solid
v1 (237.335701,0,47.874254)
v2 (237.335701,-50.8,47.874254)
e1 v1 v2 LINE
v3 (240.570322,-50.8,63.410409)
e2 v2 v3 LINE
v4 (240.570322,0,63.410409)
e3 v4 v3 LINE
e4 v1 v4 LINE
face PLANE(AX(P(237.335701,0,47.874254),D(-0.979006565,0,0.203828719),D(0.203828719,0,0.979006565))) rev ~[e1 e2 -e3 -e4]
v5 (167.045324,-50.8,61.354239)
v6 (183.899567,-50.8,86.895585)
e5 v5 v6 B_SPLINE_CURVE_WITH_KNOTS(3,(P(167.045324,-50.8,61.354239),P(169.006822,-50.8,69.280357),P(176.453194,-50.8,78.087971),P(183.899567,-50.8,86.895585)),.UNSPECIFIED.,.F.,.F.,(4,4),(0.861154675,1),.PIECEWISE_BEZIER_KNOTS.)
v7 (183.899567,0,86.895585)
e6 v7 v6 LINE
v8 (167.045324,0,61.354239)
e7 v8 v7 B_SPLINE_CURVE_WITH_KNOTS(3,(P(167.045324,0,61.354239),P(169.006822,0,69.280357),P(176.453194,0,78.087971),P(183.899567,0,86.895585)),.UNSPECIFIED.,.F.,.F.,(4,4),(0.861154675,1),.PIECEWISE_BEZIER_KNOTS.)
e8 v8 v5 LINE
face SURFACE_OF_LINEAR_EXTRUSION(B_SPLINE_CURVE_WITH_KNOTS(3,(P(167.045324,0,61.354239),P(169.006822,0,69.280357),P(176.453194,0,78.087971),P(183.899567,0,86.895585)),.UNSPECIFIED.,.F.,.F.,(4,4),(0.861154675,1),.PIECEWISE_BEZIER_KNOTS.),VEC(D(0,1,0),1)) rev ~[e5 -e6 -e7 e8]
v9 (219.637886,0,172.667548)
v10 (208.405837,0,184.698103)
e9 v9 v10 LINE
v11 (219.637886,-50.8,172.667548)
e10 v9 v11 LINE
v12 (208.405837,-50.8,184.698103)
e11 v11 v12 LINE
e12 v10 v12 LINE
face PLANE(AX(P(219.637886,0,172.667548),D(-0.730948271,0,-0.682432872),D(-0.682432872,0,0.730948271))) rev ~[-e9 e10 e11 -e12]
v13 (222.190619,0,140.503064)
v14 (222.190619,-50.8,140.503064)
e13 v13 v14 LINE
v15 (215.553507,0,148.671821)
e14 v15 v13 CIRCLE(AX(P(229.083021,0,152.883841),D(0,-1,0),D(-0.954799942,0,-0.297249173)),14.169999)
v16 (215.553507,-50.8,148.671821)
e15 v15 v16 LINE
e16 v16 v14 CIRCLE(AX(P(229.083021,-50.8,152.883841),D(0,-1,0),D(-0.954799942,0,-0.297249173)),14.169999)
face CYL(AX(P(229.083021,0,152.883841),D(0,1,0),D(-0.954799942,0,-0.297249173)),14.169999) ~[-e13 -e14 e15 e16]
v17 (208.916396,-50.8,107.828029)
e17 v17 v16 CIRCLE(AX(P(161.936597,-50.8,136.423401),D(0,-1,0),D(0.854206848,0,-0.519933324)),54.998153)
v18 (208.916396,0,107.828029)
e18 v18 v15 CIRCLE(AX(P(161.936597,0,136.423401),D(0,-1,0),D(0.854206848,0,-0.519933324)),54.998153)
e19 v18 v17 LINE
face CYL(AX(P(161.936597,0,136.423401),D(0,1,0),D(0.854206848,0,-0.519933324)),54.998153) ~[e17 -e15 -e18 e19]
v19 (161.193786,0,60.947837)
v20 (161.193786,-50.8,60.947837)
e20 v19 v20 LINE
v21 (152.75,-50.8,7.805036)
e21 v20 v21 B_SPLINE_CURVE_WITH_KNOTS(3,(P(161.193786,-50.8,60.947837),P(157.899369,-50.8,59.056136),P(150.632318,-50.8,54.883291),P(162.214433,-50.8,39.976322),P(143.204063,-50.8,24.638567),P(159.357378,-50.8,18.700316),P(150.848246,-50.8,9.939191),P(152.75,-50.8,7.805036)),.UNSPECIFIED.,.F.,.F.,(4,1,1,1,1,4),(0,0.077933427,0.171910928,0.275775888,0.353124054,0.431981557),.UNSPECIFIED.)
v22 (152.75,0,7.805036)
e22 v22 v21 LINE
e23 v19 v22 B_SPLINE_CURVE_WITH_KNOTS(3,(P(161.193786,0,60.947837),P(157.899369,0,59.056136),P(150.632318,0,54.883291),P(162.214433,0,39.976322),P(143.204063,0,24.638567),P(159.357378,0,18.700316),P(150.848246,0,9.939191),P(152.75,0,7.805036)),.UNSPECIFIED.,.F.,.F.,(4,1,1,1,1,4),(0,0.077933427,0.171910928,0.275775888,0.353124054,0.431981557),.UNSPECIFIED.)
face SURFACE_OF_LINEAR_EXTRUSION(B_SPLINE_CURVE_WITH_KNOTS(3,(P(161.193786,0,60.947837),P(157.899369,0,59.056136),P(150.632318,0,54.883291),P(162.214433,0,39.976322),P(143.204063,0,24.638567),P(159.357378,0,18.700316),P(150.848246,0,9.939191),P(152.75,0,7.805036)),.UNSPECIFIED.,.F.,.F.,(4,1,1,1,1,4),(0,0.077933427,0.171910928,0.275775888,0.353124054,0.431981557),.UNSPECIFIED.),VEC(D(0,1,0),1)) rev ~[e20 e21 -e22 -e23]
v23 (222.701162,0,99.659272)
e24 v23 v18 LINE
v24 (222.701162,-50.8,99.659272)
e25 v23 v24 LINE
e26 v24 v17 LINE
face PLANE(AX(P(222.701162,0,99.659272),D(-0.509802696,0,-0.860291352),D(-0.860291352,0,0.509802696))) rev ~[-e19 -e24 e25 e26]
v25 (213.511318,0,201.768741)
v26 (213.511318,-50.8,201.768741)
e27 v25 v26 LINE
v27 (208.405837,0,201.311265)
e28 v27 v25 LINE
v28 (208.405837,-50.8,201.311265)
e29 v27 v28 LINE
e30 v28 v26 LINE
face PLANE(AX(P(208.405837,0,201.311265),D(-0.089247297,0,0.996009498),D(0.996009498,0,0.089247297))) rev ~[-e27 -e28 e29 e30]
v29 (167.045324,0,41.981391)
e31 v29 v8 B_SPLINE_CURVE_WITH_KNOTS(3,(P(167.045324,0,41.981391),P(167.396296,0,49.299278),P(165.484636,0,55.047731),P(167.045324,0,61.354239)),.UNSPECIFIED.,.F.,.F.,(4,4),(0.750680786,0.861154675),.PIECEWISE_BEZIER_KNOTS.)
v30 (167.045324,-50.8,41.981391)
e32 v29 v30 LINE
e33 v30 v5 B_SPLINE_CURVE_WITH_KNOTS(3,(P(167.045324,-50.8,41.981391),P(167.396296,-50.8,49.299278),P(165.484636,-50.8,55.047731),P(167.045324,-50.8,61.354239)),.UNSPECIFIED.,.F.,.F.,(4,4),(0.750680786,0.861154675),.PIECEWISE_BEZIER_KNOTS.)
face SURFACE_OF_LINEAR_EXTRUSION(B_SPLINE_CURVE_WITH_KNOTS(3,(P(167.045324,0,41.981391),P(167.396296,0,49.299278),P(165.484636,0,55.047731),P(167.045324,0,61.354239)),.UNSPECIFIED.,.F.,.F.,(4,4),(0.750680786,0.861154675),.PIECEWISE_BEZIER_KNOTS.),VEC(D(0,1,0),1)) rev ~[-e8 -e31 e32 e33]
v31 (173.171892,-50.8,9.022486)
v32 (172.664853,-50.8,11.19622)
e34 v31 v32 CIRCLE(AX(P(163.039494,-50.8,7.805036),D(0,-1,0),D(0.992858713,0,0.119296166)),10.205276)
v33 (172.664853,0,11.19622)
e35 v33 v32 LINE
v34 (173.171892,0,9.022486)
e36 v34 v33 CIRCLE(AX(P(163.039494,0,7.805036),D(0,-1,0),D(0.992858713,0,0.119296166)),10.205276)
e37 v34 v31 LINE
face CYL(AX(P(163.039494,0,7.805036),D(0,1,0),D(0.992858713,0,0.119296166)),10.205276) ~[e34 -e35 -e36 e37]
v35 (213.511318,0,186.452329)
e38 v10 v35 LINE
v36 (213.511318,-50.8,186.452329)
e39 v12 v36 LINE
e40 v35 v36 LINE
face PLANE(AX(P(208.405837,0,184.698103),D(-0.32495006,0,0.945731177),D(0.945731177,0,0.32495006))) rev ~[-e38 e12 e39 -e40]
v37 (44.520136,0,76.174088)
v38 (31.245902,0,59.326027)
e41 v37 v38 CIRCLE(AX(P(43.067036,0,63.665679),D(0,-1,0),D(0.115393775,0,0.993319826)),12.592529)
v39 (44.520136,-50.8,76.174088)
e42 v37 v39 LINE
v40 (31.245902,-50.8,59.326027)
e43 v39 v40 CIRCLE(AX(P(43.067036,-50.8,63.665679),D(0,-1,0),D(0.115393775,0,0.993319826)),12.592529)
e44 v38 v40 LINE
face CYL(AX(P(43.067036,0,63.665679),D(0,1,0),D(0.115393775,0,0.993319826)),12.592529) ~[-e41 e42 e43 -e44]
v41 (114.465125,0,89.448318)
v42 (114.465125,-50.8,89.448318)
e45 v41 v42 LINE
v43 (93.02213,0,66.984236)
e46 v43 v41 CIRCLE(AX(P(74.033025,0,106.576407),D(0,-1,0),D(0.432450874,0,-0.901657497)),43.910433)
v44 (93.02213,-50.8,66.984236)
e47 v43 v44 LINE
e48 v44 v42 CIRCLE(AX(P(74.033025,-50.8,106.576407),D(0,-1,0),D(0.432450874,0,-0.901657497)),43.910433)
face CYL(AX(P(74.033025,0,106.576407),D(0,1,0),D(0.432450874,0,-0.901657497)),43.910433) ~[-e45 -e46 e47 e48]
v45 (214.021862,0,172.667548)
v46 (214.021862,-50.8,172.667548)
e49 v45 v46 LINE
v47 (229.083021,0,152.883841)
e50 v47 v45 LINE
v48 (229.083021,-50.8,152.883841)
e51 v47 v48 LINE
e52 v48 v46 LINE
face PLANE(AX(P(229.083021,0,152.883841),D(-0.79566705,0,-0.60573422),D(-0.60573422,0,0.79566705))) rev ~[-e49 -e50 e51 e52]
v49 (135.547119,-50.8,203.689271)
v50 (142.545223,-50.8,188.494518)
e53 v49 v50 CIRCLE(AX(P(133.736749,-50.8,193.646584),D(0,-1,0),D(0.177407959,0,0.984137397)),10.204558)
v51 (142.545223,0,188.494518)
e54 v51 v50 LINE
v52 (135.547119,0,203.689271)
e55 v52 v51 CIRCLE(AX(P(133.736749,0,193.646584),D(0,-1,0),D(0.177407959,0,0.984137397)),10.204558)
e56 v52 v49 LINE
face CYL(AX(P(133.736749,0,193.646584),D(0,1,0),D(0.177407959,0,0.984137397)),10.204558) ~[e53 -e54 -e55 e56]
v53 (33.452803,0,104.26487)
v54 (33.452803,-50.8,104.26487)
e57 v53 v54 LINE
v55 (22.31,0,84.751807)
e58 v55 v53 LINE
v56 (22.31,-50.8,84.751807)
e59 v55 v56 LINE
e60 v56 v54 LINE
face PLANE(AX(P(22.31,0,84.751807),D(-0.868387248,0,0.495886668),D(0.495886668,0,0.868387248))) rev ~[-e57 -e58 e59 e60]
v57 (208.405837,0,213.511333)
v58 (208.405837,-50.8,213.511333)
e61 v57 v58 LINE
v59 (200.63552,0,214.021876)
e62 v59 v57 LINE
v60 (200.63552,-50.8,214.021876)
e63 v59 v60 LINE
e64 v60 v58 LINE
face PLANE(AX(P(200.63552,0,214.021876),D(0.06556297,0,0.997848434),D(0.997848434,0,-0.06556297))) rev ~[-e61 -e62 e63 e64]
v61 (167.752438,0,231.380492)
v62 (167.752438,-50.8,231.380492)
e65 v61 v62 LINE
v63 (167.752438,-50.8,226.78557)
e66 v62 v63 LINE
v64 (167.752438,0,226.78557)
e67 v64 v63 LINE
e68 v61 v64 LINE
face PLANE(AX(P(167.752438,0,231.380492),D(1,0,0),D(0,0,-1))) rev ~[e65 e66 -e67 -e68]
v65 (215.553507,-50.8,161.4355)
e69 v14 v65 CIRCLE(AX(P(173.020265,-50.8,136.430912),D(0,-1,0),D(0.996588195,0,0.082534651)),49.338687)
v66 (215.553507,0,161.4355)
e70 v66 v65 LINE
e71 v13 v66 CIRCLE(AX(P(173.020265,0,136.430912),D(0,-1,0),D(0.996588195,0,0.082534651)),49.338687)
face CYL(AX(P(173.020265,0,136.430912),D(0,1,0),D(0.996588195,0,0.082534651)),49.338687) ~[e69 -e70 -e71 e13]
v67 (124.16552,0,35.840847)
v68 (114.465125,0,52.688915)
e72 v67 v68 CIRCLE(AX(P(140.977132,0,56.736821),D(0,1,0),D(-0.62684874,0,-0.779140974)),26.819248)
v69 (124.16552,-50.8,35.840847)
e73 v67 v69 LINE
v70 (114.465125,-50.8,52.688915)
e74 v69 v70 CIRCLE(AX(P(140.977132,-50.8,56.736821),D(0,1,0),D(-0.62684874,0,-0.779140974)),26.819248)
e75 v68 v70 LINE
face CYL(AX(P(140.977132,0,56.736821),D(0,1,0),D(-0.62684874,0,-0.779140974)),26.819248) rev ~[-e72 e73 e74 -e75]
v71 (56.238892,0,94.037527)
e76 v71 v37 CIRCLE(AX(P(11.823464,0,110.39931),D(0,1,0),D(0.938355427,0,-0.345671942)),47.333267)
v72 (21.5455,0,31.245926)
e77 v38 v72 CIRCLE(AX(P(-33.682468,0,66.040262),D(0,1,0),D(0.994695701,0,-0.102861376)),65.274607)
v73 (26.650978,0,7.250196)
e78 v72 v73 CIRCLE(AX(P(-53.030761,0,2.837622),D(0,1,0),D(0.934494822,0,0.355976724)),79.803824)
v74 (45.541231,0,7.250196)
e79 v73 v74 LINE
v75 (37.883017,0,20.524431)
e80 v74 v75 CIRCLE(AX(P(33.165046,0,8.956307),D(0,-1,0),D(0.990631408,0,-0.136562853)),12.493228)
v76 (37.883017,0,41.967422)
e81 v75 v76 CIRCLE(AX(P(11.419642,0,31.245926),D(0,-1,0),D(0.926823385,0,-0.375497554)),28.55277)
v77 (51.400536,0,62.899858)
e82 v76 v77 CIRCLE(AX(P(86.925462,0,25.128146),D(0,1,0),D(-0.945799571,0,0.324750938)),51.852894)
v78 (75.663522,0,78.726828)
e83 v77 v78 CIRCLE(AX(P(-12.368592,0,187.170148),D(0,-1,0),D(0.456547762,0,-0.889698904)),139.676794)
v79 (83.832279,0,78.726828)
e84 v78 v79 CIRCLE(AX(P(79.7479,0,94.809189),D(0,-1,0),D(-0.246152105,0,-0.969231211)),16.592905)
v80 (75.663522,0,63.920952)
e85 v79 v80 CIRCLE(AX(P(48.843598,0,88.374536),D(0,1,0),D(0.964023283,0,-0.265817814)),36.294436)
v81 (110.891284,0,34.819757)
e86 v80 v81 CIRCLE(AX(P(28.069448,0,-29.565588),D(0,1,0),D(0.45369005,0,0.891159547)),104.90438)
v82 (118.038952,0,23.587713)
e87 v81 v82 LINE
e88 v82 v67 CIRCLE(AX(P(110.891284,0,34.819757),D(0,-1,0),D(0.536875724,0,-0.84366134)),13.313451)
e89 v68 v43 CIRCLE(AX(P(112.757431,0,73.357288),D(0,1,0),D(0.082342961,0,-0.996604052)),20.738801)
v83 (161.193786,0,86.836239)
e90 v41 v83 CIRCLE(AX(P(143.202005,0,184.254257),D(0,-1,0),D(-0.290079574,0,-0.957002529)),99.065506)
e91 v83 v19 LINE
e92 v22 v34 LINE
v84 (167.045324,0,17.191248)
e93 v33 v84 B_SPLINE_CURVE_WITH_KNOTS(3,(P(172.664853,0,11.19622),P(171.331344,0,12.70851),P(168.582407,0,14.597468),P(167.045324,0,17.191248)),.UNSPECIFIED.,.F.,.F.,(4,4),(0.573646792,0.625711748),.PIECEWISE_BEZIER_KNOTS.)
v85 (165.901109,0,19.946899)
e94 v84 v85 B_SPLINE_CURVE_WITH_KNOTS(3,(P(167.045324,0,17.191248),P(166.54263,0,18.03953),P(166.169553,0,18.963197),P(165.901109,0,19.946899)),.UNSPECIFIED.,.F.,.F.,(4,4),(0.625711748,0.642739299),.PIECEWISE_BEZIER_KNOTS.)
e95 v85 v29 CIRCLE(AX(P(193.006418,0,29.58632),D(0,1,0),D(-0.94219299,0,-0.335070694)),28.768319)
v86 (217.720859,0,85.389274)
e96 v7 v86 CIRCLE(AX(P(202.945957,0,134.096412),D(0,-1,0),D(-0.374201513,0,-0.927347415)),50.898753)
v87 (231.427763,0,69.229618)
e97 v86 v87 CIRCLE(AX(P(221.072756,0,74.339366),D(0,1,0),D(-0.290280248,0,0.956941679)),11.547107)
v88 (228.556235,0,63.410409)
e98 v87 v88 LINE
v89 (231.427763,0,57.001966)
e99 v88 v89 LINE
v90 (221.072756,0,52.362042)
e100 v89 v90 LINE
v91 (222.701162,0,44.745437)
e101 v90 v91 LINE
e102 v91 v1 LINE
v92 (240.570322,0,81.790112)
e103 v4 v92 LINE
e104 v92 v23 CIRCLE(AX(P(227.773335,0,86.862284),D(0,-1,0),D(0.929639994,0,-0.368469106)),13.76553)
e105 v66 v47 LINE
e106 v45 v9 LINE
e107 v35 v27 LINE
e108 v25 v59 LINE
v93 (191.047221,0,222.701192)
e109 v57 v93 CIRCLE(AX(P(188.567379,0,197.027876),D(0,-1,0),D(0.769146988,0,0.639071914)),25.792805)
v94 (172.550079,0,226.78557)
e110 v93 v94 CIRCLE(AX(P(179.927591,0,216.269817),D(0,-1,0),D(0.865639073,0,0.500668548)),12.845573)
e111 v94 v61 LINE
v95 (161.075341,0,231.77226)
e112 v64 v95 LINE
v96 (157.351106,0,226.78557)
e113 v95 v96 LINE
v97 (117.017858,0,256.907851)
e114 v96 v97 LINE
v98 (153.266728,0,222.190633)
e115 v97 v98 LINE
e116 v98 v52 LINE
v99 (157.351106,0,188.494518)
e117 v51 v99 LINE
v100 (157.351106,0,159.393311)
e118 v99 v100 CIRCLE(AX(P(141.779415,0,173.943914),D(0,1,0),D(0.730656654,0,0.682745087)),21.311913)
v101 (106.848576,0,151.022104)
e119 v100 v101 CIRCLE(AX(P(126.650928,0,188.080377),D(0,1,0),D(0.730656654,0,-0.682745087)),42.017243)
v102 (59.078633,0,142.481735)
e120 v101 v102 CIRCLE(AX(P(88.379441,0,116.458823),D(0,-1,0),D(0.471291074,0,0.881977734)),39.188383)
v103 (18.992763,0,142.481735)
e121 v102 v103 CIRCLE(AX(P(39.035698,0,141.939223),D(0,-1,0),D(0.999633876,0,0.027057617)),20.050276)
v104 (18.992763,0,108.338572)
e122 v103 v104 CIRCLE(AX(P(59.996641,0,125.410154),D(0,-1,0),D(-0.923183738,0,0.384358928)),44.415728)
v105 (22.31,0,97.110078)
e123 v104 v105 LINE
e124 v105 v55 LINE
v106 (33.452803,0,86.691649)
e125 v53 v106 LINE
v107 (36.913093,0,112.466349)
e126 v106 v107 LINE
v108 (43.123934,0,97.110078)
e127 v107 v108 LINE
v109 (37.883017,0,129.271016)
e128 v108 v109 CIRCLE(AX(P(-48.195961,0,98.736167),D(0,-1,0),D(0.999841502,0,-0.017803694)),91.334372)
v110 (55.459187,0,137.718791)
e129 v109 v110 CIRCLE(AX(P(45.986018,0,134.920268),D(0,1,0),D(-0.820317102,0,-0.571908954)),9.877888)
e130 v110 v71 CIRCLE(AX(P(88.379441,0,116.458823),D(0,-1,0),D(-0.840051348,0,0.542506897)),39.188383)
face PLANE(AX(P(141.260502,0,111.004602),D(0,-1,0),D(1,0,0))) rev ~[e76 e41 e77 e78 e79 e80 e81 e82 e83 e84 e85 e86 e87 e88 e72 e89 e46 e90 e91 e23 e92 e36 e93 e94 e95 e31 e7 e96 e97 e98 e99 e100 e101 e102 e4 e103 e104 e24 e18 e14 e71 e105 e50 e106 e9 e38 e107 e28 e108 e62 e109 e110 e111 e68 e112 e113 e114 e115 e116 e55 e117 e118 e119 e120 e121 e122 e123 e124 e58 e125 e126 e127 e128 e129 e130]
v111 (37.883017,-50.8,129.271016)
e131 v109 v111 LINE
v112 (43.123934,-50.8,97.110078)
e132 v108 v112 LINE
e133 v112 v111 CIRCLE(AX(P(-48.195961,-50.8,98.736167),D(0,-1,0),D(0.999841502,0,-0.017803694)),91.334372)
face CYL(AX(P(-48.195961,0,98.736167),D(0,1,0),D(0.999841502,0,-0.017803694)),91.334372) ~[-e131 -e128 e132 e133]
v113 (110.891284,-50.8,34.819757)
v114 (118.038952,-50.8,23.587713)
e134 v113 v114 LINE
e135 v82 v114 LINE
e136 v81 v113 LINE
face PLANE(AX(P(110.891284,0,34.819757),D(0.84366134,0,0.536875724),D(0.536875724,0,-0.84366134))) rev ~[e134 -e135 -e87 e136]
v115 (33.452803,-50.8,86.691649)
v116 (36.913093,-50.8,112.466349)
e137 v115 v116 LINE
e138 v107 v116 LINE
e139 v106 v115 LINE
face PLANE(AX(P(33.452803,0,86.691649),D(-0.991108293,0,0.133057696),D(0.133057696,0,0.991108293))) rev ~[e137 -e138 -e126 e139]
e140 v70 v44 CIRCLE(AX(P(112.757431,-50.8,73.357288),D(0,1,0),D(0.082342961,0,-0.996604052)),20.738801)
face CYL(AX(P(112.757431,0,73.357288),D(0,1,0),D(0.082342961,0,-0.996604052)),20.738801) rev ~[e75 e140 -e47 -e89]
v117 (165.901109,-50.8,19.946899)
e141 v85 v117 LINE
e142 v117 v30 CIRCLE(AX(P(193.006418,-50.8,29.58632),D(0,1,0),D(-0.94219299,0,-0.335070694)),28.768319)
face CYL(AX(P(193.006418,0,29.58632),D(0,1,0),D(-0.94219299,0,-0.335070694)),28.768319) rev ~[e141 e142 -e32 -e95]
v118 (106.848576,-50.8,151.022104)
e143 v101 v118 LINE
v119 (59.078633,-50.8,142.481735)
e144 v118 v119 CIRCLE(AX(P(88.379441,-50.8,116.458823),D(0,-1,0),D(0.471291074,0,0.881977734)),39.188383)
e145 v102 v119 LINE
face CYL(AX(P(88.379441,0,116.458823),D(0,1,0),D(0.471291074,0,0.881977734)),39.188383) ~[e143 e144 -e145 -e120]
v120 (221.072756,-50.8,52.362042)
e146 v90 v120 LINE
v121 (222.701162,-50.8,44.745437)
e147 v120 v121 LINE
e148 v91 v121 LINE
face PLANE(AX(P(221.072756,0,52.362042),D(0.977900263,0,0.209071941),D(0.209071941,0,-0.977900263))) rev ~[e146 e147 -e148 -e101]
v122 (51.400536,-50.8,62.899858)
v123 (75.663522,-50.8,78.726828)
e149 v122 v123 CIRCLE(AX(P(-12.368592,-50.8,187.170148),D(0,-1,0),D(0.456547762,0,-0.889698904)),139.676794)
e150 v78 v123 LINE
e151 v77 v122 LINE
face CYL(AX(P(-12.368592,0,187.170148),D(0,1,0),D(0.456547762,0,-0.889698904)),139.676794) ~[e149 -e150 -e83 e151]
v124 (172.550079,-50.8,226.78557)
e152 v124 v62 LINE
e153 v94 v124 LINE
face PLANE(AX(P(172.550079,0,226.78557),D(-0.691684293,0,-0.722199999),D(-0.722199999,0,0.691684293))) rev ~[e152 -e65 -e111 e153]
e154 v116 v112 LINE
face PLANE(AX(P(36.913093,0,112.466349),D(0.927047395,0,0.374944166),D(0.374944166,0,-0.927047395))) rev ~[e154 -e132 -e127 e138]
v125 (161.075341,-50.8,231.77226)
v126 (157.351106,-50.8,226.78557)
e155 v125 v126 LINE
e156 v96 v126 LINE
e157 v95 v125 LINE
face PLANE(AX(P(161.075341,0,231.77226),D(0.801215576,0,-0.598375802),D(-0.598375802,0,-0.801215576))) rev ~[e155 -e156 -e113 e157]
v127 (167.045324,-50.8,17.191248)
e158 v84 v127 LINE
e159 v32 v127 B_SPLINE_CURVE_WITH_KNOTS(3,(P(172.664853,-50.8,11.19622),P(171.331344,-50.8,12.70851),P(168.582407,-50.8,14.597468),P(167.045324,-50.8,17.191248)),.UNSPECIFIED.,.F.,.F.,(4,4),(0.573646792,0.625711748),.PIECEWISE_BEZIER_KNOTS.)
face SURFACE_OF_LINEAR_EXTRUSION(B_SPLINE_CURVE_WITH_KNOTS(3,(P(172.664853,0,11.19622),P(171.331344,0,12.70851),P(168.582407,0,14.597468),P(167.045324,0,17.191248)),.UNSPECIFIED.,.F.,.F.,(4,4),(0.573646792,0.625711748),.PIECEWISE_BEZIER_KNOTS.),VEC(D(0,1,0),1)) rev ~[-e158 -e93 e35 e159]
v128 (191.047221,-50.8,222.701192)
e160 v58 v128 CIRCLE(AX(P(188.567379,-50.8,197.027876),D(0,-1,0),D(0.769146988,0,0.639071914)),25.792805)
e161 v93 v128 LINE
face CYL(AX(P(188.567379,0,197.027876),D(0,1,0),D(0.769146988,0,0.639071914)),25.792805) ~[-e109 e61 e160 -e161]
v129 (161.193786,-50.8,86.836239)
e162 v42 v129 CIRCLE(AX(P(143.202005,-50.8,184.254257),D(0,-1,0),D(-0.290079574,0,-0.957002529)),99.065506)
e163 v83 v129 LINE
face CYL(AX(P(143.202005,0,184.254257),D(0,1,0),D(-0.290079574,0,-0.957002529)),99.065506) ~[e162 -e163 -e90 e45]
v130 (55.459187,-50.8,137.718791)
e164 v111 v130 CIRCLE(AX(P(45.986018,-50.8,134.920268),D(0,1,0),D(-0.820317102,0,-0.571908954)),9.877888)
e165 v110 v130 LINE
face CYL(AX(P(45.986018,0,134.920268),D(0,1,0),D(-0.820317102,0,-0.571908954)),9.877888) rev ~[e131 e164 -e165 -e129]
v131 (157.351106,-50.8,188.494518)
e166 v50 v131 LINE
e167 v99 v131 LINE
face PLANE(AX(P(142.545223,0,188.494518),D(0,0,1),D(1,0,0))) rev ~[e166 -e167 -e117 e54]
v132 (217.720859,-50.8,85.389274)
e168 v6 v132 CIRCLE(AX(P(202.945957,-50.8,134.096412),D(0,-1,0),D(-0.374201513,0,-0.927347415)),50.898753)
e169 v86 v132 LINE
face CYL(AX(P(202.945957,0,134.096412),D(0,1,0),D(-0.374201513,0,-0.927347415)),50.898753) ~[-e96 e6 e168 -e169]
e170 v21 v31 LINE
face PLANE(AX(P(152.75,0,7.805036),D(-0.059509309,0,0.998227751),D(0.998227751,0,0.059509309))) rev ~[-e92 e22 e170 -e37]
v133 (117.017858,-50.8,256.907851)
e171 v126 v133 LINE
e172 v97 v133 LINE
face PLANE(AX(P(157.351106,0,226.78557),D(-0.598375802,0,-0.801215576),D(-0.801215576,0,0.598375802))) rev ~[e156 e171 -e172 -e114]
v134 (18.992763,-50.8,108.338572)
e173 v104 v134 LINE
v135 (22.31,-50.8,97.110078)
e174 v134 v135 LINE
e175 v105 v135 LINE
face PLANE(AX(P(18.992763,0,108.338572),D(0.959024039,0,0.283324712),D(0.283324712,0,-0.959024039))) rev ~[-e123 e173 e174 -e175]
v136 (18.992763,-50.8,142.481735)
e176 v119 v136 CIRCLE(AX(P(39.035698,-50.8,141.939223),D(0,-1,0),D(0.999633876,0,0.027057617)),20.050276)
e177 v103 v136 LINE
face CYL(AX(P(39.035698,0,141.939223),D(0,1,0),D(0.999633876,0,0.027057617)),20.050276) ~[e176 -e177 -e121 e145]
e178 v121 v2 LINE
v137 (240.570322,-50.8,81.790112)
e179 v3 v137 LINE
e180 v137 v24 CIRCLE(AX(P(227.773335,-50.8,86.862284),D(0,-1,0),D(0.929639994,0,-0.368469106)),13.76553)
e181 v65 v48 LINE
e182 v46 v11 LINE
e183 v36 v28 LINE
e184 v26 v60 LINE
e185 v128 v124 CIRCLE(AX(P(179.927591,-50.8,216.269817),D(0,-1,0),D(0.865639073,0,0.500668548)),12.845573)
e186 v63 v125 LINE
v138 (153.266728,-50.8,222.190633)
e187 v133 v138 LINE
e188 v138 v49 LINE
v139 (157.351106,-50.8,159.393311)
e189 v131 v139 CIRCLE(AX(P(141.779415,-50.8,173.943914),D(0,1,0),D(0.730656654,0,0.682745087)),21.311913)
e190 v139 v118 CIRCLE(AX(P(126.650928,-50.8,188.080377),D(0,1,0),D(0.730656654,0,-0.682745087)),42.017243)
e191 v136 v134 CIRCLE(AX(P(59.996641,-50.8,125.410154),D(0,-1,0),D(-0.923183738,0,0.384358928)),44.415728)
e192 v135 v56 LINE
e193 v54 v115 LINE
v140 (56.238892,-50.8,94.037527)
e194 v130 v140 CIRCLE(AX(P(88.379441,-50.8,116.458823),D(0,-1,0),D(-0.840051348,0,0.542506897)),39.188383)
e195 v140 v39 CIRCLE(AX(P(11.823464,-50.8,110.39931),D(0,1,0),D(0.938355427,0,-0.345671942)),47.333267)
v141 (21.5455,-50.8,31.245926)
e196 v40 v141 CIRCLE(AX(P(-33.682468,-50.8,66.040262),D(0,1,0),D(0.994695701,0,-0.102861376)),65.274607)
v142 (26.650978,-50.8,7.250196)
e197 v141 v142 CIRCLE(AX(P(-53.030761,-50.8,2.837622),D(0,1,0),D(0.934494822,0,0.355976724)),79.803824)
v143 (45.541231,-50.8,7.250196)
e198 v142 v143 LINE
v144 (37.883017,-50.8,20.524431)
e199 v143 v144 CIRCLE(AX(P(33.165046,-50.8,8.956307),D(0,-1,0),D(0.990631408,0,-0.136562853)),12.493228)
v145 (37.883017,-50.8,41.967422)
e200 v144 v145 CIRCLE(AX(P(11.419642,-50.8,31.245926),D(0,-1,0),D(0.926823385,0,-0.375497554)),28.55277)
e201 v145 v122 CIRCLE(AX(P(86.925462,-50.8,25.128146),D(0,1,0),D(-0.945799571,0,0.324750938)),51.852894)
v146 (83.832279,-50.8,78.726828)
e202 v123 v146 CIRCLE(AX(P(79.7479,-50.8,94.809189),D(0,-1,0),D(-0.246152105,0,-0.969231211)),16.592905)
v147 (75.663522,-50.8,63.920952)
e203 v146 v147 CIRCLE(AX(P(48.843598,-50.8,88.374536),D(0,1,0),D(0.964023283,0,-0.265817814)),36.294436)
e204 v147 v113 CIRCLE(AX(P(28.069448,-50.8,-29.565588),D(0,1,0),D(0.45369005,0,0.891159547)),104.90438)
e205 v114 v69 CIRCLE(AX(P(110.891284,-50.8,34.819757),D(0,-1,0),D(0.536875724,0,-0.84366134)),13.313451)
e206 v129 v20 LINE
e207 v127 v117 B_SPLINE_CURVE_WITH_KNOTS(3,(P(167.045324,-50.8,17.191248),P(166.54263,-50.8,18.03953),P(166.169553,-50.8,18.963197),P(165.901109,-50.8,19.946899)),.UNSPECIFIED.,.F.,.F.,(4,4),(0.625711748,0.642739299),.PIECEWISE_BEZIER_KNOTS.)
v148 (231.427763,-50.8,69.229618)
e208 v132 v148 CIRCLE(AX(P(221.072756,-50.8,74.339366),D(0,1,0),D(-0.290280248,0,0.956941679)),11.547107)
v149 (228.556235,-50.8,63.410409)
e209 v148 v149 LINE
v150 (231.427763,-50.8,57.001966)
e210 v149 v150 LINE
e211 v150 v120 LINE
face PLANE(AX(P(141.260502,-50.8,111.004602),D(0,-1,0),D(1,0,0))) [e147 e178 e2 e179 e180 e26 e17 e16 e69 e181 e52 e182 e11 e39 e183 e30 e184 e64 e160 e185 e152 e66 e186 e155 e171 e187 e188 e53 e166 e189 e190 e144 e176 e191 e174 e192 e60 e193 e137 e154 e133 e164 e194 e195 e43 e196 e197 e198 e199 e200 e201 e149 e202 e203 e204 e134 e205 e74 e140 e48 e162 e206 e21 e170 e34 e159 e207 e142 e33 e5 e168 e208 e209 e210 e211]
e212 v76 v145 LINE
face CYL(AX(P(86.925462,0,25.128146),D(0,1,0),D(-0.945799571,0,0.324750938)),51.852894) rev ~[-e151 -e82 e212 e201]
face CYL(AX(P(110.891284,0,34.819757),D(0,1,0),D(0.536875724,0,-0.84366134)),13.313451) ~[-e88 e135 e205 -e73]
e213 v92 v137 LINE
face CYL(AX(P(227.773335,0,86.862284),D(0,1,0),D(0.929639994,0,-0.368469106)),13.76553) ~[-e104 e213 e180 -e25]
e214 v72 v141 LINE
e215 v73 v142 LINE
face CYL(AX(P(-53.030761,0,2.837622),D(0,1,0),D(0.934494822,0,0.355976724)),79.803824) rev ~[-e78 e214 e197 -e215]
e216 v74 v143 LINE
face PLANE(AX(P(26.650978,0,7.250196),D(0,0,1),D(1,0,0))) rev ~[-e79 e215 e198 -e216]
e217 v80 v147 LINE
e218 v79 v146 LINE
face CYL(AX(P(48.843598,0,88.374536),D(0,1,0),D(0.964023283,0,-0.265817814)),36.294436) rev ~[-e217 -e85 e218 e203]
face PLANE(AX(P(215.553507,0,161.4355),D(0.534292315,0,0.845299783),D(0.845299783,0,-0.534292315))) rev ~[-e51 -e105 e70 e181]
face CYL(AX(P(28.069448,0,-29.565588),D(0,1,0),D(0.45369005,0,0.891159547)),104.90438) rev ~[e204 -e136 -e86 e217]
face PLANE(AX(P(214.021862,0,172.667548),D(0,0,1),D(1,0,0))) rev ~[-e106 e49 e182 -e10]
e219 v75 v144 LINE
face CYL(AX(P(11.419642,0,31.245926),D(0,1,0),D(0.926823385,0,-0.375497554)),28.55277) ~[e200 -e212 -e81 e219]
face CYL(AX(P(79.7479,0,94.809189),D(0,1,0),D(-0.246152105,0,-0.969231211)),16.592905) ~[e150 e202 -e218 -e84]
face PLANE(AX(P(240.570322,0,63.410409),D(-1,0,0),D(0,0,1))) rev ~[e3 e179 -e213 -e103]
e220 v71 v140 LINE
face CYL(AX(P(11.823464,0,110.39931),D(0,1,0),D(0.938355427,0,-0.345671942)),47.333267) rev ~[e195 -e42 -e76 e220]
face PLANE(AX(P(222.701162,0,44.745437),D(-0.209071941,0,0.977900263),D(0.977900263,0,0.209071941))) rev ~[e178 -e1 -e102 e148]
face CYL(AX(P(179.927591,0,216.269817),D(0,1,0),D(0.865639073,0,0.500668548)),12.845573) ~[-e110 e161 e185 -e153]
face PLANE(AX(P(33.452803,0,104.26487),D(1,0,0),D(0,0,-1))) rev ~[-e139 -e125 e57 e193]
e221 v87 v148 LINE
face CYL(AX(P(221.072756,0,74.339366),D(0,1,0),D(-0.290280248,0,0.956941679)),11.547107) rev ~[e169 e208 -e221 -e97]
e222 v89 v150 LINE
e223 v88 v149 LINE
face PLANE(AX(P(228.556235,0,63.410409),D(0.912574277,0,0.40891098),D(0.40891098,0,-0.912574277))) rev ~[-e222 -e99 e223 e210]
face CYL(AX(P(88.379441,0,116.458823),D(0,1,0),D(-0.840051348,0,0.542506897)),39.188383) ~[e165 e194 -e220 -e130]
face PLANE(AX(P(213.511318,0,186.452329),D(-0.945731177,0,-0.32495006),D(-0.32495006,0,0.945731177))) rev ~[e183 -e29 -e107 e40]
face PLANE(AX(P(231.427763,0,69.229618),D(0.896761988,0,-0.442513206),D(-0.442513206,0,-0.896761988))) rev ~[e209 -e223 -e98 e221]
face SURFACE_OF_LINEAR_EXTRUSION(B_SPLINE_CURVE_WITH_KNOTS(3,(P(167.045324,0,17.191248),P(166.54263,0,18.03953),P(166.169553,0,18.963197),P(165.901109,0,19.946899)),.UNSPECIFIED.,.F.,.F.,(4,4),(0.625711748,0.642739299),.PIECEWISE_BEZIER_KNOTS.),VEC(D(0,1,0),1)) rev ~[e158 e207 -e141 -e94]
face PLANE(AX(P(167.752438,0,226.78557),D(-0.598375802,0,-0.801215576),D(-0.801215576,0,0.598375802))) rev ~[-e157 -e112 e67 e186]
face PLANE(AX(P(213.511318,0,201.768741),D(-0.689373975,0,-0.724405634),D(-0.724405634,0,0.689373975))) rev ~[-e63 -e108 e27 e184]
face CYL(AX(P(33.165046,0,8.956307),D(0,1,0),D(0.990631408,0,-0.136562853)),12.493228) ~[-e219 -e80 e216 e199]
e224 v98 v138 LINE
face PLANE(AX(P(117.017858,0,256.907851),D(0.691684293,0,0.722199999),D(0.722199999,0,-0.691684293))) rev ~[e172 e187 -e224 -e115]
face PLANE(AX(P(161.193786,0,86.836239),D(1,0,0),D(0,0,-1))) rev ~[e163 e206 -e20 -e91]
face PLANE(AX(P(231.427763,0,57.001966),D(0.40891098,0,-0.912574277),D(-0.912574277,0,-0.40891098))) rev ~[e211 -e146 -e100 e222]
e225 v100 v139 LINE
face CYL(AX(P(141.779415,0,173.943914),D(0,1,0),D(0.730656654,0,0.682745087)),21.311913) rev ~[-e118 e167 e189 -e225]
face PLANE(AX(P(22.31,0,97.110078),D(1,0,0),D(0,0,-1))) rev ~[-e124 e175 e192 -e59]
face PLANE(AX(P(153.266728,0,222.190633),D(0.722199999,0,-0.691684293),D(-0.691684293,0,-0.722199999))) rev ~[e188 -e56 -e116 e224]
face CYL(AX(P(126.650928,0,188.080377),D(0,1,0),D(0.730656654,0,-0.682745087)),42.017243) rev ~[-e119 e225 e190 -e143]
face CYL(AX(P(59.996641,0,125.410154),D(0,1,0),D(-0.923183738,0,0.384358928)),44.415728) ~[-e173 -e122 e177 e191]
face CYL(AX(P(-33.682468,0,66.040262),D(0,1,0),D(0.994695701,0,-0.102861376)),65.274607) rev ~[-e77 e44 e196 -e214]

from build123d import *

# Parameters (mm, degrees)
F1_DEPTH = 50.8


with BuildPart() as f1:
    # F0 (on Front) → F1 (new body)
    with BuildSketch(Plane.XZ):
        with BuildLine():
            Line((157.3511064053, 226.7855703831), (117.0178577304, 256.9078505039))
            Line((117.0178577304, 256.9078505039), (153.2667279243, 222.1906334162))
            Line((153.2667279243, 222.1906334162), (135.5471188815, 203.6892712114))
            ThreePointArc((135.5471188815, 203.6892712114), (124.4679795229, 189.3777542773), (142.5452232361, 188.4945183992))
            Line((142.5452232361, 188.4945183992), (157.3511064053, 188.4945183992))
            ThreePointArc((157.3511064053, 188.4945183992), (163.0913283676, 173.9439144731), (157.3511064053, 159.3933105469))
            ThreePointArc((157.3511064053, 159.3933105469), (133.5218764448, 146.628732852), (106.8485764131, 151.0221039559))
            ThreePointArc((106.8485764131, 151.0221039559), (81.4826477265, 155.0355463169), (59.0786326768, 142.4817354462))
            ThreePointArc((59.0786326768, 142.4817354462), (57.1778936646, 140.1694279188), (55.4591871163, 137.7187907169))
            ThreePointArc((55.4591871163, 137.7187907169), (49.1972996165, 115.7594263547), (56.2388920861, 94.0375274104))
            ThreePointArc((56.2388920861, 94.0375274104), (51.4005357949, 84.435997918), (44.5201359689, 76.1740878224))
            ThreePointArc((44.5201359689, 76.1740878224), (33.1757105593, 71.4588467738), (31.2459021807, 59.3260265887))
            ThreePointArc((31.2459021807, 59.3260265887), (28.0144474885, 44.7267728634), (21.5454995632, 31.2459263951))
            ThreePointArc((21.5454995632, 31.2459263951), (25.0258299967, 19.4454210796), (26.6509782523, 7.2501958348))
            Line((26.6509782523, 7.2501958348), (45.5412305892, 7.2501958348))
            ThreePointArc((45.5412305892, 7.2501958348), (43.9865002742, 15.1994537749), (37.8830172122, 20.52443102))
            ThreePointArc((37.8830172122, 20.52443102), (39.9724122876, 31.2459263951), (37.8830172122, 41.9674217701))
            ThreePointArc((37.8830172122, 41.9674217701), (43.3657124777, 53.2576823746), (51.4005357949, 62.8998577595))
            ThreePointArc((51.4005357949, 62.8998577595), (63.9434482796, 70.1826306752), (75.6635218859, 78.7268280983))
            ThreePointArc((75.6635218859, 78.7268280983), (79.7479003668, 78.2162845135), (83.8322788477, 78.7268280983))
            ThreePointArc((83.8322788477, 78.7268280983), (80.62219761, 70.8415194676), (75.6635218859, 63.9209523797))
            ThreePointArc((75.6635218859, 63.9209523797), (94.8811032097, 51.3116760169), (110.8912838002, 34.8197567898))
            Line((110.8912838002, 34.8197567898), (118.0389523506, 23.5877130181))
            ThreePointArc((118.0389523506, 23.5877130181), (122.7991958663, 28.8657998516), (124.165520072, 35.8408465981))
            ThreePointArc((124.165520072, 35.8408465981), (117.7349645729, 43.3549786498), (114.4651249051, 52.6889152825))
            ThreePointArc((114.4651249051, 52.6889152825), (101.2536184714, 56.1015596962), (93.0221304297, 66.9842362404))
            ThreePointArc((93.0221304297, 66.9842362404), (105.7958752022, 76.2573128263), (114.4651249051, 89.4483178854))
            ThreePointArc((114.4651249051, 89.4483178854), (137.6729881459, 85.3431639936), (161.1937859731, 86.8362394266))
            Line((161.1937859731, 86.8362394266), (161.1937859731, 60.947837063))
            add(Edge.make_bspline(
                [(161.1937859731, 60.947837063), (157.8993693687, 59.0561358776), (150.6323180509, 54.8832909577), (162.2144334117, 39.9763215602), (143.2040633117, 24.6385665246), (159.3573781955, 18.7003155427), (150.8482458466, 9.9391907933), (152.7499995265, 7.8050355296)],
                knots=[0, 0, 0, 0, 0.0779334272, 0.1719109278, 0.2757758884, 0.3531240541, 0.4319815568, 0.4319815568, 0.4319815568, 0.4319815568], degree=3))
            Line((152.7499995265, 7.8050355296), (173.171891931, 9.0224858617))
            ThreePointArc((173.171891931, 9.0224858617), (172.9779809567, 10.1232568284), (172.664853356, 11.1962196856))
            add(Edge.make_bspline(
                [(172.664853356, 11.1962196856), (171.3313436819, 12.7085104711), (168.5824067748, 14.597468285), (167.0453242097, 17.1912484114)],
                knots=[0.5736467919, 0.5736467919, 0.5736467919, 0.5736467919, 0.6257117477, 0.6257117477, 0.6257117477, 0.6257117477], degree=3))
            add(Edge.make_bspline(
                [(167.0453242097, 17.1912484114), (166.5426299969, 18.0395296218), (166.169553332, 18.9631972351), (165.9011092746, 19.9468993754)],
                knots=[0.6257117477, 0.6257117477, 0.6257117477, 0.6257117477, 0.6427392989, 0.6427392989, 0.6427392989, 0.6427392989], degree=3))
            ThreePointArc((165.9011092746, 19.9468993754), (164.2768081704, 31.0782012829), (167.0453242097, 41.9813914203))
            add(Edge.make_bspline(
                [(167.0453242097, 41.9813914203), (167.3962963394, 49.2992780507), (165.4846355858, 55.0477309675), (167.0453242097, 61.3542387283)],
                knots=[0.7506807864, 0.7506807864, 0.7506807864, 0.7506807864, 0.8611546748, 0.8611546748, 0.8611546748, 0.8611546748], degree=3))
            add(Edge.make_bspline(
                [(167.0453242097, 61.3542387283), (169.0068222846, 69.2803571375), (176.4531944079, 78.0879710988), (183.8995665312, 86.8955850601)],
                knots=[0.8611546748, 0.8611546748, 0.8611546748, 0.8611546748, 1, 1, 1, 1], degree=3))
            ThreePointArc((183.8995665312, 86.8955850601), (200.6813055662, 83.248064902), (217.7208593273, 85.3892738977))
            ThreePointArc((217.7208593273, 85.3892738977), (229.8786920932, 81.8087152157), (231.4277632013, 69.2296183983))
            Line((231.4277632013, 69.2296183983), (228.5562352695, 63.4104087949))
            Line((228.5562352695, 63.4104087949), (231.4277632013, 57.001966241))
            Line((231.4277632013, 57.001966241), (221.0727564471, 52.3620415043))
            Line((221.0727564471, 52.3620415043), (222.7011620998, 44.7454368664))
            Line((222.7011620998, 44.7454368664), (237.3357014598, 47.8742544631))
            Line((237.3357014598, 47.8742544631), (240.5703216791, 63.4104087949))
            Line((240.5703216791, 63.4104087949), (240.5703216791, 81.790111959))
            ThreePointArc((240.5703216791, 81.790111959), (237.5070340931, 96.5959839523), (222.7011620998, 99.6592715383))
            Line((222.7011620998, 99.6592715383), (208.9163959026, 107.8280285001))
            ThreePointArc((208.9163959026, 107.8280285001), (216.2226754166, 127.6019199845), (215.5535072088, 148.6718207598))
            ThreePointArc((215.5535072088, 148.6718207598), (218.0854842896, 143.9483475476), (222.190618515, 140.503063798))
            ThreePointArc((222.190618515, 140.503063798), (220.0514151702, 151.3432226251), (215.5535072088, 161.4354997873))
            Line((215.5535072088, 161.4354997873), (229.0830209851, 152.8838410974))
            Line((229.0830209851, 152.8838410974), (214.0218615532, 172.6675480604))
            Line((214.0218615532, 172.6675480604), (219.6378856897, 172.6675480604))
            Line((219.6378856897, 172.6675480604), (208.4058374166, 184.6981031667))
            Line((208.4058374166, 184.6981031667), (213.5113179684, 186.4523291588))
            Line((213.5113179684, 186.4523291588), (208.4058374166, 201.3112651118))
            Line((208.4058374166, 201.3112651118), (213.5113179684, 201.7687410116))
            Line((213.5113179684, 201.7687410116), (200.6355195315, 214.0218764544))
            Line((200.6355195315, 214.0218764544), (208.4058374166, 213.5113328695))
            ThreePointArc((208.4058374166, 213.5113328695), (200.6355195315, 219.8232430535), (191.0472214222, 222.7011919022))
            ThreePointArc((191.0472214222, 222.7011919022), (182.6973201136, 228.8132361759), (172.5500786904, 226.7855703831))
            Line((172.5500786904, 226.7855703831), (167.7524379956, 231.3804924488))
            Line((167.7524379956, 231.3804924488), (167.7524379956, 226.7855703831))
            Line((167.7524379956, 226.7855703831), (161.0753406305, 231.77226012))
            Line((161.0753406305, 231.77226012), (157.3511064053, 226.7855703831))
        make_face()
        with BuildLine():
            ThreePointArc((55.4591871163, 137.7187907169), (57.1778936646, 140.1694279188), (59.0786326768, 142.4817354462))
            ThreePointArc((59.0786326768, 142.4817354462), (39.0356978447, 161.9894984881), (18.9927630126, 142.4817354462))
            ThreePointArc((18.9927630126, 142.4817354462), (15.5809128086, 125.4101537656), (18.9927630126, 108.3385720849))
            Line((18.9927630126, 108.3385720849), (22.309999913, 97.1100777388))
            Line((22.309999913, 97.1100777388), (22.309999913, 84.7518071532))
            Line((22.309999913, 84.7518071532), (33.4528027138, 104.264870286))
            Line((33.4528027138, 104.264870286), (33.4528027138, 86.6916491587))
            Line((33.4528027138, 86.6916491587), (36.9130928491, 112.466349486))
            Line((36.9130928491, 112.466349486), (43.123934418, 97.1100777388))
            ThreePointArc((43.123934418, 97.1100777388), (41.9493193566, 113.4261599819), (37.8830172122, 129.2710155249))
            ThreePointArc((37.8830172122, 129.2710155249), (41.7069327363, 143.8231946906), (55.4591871163, 137.7187907169))
        make_face()
    extrude(amount=F1_DEPTH)


solid = f1.part
